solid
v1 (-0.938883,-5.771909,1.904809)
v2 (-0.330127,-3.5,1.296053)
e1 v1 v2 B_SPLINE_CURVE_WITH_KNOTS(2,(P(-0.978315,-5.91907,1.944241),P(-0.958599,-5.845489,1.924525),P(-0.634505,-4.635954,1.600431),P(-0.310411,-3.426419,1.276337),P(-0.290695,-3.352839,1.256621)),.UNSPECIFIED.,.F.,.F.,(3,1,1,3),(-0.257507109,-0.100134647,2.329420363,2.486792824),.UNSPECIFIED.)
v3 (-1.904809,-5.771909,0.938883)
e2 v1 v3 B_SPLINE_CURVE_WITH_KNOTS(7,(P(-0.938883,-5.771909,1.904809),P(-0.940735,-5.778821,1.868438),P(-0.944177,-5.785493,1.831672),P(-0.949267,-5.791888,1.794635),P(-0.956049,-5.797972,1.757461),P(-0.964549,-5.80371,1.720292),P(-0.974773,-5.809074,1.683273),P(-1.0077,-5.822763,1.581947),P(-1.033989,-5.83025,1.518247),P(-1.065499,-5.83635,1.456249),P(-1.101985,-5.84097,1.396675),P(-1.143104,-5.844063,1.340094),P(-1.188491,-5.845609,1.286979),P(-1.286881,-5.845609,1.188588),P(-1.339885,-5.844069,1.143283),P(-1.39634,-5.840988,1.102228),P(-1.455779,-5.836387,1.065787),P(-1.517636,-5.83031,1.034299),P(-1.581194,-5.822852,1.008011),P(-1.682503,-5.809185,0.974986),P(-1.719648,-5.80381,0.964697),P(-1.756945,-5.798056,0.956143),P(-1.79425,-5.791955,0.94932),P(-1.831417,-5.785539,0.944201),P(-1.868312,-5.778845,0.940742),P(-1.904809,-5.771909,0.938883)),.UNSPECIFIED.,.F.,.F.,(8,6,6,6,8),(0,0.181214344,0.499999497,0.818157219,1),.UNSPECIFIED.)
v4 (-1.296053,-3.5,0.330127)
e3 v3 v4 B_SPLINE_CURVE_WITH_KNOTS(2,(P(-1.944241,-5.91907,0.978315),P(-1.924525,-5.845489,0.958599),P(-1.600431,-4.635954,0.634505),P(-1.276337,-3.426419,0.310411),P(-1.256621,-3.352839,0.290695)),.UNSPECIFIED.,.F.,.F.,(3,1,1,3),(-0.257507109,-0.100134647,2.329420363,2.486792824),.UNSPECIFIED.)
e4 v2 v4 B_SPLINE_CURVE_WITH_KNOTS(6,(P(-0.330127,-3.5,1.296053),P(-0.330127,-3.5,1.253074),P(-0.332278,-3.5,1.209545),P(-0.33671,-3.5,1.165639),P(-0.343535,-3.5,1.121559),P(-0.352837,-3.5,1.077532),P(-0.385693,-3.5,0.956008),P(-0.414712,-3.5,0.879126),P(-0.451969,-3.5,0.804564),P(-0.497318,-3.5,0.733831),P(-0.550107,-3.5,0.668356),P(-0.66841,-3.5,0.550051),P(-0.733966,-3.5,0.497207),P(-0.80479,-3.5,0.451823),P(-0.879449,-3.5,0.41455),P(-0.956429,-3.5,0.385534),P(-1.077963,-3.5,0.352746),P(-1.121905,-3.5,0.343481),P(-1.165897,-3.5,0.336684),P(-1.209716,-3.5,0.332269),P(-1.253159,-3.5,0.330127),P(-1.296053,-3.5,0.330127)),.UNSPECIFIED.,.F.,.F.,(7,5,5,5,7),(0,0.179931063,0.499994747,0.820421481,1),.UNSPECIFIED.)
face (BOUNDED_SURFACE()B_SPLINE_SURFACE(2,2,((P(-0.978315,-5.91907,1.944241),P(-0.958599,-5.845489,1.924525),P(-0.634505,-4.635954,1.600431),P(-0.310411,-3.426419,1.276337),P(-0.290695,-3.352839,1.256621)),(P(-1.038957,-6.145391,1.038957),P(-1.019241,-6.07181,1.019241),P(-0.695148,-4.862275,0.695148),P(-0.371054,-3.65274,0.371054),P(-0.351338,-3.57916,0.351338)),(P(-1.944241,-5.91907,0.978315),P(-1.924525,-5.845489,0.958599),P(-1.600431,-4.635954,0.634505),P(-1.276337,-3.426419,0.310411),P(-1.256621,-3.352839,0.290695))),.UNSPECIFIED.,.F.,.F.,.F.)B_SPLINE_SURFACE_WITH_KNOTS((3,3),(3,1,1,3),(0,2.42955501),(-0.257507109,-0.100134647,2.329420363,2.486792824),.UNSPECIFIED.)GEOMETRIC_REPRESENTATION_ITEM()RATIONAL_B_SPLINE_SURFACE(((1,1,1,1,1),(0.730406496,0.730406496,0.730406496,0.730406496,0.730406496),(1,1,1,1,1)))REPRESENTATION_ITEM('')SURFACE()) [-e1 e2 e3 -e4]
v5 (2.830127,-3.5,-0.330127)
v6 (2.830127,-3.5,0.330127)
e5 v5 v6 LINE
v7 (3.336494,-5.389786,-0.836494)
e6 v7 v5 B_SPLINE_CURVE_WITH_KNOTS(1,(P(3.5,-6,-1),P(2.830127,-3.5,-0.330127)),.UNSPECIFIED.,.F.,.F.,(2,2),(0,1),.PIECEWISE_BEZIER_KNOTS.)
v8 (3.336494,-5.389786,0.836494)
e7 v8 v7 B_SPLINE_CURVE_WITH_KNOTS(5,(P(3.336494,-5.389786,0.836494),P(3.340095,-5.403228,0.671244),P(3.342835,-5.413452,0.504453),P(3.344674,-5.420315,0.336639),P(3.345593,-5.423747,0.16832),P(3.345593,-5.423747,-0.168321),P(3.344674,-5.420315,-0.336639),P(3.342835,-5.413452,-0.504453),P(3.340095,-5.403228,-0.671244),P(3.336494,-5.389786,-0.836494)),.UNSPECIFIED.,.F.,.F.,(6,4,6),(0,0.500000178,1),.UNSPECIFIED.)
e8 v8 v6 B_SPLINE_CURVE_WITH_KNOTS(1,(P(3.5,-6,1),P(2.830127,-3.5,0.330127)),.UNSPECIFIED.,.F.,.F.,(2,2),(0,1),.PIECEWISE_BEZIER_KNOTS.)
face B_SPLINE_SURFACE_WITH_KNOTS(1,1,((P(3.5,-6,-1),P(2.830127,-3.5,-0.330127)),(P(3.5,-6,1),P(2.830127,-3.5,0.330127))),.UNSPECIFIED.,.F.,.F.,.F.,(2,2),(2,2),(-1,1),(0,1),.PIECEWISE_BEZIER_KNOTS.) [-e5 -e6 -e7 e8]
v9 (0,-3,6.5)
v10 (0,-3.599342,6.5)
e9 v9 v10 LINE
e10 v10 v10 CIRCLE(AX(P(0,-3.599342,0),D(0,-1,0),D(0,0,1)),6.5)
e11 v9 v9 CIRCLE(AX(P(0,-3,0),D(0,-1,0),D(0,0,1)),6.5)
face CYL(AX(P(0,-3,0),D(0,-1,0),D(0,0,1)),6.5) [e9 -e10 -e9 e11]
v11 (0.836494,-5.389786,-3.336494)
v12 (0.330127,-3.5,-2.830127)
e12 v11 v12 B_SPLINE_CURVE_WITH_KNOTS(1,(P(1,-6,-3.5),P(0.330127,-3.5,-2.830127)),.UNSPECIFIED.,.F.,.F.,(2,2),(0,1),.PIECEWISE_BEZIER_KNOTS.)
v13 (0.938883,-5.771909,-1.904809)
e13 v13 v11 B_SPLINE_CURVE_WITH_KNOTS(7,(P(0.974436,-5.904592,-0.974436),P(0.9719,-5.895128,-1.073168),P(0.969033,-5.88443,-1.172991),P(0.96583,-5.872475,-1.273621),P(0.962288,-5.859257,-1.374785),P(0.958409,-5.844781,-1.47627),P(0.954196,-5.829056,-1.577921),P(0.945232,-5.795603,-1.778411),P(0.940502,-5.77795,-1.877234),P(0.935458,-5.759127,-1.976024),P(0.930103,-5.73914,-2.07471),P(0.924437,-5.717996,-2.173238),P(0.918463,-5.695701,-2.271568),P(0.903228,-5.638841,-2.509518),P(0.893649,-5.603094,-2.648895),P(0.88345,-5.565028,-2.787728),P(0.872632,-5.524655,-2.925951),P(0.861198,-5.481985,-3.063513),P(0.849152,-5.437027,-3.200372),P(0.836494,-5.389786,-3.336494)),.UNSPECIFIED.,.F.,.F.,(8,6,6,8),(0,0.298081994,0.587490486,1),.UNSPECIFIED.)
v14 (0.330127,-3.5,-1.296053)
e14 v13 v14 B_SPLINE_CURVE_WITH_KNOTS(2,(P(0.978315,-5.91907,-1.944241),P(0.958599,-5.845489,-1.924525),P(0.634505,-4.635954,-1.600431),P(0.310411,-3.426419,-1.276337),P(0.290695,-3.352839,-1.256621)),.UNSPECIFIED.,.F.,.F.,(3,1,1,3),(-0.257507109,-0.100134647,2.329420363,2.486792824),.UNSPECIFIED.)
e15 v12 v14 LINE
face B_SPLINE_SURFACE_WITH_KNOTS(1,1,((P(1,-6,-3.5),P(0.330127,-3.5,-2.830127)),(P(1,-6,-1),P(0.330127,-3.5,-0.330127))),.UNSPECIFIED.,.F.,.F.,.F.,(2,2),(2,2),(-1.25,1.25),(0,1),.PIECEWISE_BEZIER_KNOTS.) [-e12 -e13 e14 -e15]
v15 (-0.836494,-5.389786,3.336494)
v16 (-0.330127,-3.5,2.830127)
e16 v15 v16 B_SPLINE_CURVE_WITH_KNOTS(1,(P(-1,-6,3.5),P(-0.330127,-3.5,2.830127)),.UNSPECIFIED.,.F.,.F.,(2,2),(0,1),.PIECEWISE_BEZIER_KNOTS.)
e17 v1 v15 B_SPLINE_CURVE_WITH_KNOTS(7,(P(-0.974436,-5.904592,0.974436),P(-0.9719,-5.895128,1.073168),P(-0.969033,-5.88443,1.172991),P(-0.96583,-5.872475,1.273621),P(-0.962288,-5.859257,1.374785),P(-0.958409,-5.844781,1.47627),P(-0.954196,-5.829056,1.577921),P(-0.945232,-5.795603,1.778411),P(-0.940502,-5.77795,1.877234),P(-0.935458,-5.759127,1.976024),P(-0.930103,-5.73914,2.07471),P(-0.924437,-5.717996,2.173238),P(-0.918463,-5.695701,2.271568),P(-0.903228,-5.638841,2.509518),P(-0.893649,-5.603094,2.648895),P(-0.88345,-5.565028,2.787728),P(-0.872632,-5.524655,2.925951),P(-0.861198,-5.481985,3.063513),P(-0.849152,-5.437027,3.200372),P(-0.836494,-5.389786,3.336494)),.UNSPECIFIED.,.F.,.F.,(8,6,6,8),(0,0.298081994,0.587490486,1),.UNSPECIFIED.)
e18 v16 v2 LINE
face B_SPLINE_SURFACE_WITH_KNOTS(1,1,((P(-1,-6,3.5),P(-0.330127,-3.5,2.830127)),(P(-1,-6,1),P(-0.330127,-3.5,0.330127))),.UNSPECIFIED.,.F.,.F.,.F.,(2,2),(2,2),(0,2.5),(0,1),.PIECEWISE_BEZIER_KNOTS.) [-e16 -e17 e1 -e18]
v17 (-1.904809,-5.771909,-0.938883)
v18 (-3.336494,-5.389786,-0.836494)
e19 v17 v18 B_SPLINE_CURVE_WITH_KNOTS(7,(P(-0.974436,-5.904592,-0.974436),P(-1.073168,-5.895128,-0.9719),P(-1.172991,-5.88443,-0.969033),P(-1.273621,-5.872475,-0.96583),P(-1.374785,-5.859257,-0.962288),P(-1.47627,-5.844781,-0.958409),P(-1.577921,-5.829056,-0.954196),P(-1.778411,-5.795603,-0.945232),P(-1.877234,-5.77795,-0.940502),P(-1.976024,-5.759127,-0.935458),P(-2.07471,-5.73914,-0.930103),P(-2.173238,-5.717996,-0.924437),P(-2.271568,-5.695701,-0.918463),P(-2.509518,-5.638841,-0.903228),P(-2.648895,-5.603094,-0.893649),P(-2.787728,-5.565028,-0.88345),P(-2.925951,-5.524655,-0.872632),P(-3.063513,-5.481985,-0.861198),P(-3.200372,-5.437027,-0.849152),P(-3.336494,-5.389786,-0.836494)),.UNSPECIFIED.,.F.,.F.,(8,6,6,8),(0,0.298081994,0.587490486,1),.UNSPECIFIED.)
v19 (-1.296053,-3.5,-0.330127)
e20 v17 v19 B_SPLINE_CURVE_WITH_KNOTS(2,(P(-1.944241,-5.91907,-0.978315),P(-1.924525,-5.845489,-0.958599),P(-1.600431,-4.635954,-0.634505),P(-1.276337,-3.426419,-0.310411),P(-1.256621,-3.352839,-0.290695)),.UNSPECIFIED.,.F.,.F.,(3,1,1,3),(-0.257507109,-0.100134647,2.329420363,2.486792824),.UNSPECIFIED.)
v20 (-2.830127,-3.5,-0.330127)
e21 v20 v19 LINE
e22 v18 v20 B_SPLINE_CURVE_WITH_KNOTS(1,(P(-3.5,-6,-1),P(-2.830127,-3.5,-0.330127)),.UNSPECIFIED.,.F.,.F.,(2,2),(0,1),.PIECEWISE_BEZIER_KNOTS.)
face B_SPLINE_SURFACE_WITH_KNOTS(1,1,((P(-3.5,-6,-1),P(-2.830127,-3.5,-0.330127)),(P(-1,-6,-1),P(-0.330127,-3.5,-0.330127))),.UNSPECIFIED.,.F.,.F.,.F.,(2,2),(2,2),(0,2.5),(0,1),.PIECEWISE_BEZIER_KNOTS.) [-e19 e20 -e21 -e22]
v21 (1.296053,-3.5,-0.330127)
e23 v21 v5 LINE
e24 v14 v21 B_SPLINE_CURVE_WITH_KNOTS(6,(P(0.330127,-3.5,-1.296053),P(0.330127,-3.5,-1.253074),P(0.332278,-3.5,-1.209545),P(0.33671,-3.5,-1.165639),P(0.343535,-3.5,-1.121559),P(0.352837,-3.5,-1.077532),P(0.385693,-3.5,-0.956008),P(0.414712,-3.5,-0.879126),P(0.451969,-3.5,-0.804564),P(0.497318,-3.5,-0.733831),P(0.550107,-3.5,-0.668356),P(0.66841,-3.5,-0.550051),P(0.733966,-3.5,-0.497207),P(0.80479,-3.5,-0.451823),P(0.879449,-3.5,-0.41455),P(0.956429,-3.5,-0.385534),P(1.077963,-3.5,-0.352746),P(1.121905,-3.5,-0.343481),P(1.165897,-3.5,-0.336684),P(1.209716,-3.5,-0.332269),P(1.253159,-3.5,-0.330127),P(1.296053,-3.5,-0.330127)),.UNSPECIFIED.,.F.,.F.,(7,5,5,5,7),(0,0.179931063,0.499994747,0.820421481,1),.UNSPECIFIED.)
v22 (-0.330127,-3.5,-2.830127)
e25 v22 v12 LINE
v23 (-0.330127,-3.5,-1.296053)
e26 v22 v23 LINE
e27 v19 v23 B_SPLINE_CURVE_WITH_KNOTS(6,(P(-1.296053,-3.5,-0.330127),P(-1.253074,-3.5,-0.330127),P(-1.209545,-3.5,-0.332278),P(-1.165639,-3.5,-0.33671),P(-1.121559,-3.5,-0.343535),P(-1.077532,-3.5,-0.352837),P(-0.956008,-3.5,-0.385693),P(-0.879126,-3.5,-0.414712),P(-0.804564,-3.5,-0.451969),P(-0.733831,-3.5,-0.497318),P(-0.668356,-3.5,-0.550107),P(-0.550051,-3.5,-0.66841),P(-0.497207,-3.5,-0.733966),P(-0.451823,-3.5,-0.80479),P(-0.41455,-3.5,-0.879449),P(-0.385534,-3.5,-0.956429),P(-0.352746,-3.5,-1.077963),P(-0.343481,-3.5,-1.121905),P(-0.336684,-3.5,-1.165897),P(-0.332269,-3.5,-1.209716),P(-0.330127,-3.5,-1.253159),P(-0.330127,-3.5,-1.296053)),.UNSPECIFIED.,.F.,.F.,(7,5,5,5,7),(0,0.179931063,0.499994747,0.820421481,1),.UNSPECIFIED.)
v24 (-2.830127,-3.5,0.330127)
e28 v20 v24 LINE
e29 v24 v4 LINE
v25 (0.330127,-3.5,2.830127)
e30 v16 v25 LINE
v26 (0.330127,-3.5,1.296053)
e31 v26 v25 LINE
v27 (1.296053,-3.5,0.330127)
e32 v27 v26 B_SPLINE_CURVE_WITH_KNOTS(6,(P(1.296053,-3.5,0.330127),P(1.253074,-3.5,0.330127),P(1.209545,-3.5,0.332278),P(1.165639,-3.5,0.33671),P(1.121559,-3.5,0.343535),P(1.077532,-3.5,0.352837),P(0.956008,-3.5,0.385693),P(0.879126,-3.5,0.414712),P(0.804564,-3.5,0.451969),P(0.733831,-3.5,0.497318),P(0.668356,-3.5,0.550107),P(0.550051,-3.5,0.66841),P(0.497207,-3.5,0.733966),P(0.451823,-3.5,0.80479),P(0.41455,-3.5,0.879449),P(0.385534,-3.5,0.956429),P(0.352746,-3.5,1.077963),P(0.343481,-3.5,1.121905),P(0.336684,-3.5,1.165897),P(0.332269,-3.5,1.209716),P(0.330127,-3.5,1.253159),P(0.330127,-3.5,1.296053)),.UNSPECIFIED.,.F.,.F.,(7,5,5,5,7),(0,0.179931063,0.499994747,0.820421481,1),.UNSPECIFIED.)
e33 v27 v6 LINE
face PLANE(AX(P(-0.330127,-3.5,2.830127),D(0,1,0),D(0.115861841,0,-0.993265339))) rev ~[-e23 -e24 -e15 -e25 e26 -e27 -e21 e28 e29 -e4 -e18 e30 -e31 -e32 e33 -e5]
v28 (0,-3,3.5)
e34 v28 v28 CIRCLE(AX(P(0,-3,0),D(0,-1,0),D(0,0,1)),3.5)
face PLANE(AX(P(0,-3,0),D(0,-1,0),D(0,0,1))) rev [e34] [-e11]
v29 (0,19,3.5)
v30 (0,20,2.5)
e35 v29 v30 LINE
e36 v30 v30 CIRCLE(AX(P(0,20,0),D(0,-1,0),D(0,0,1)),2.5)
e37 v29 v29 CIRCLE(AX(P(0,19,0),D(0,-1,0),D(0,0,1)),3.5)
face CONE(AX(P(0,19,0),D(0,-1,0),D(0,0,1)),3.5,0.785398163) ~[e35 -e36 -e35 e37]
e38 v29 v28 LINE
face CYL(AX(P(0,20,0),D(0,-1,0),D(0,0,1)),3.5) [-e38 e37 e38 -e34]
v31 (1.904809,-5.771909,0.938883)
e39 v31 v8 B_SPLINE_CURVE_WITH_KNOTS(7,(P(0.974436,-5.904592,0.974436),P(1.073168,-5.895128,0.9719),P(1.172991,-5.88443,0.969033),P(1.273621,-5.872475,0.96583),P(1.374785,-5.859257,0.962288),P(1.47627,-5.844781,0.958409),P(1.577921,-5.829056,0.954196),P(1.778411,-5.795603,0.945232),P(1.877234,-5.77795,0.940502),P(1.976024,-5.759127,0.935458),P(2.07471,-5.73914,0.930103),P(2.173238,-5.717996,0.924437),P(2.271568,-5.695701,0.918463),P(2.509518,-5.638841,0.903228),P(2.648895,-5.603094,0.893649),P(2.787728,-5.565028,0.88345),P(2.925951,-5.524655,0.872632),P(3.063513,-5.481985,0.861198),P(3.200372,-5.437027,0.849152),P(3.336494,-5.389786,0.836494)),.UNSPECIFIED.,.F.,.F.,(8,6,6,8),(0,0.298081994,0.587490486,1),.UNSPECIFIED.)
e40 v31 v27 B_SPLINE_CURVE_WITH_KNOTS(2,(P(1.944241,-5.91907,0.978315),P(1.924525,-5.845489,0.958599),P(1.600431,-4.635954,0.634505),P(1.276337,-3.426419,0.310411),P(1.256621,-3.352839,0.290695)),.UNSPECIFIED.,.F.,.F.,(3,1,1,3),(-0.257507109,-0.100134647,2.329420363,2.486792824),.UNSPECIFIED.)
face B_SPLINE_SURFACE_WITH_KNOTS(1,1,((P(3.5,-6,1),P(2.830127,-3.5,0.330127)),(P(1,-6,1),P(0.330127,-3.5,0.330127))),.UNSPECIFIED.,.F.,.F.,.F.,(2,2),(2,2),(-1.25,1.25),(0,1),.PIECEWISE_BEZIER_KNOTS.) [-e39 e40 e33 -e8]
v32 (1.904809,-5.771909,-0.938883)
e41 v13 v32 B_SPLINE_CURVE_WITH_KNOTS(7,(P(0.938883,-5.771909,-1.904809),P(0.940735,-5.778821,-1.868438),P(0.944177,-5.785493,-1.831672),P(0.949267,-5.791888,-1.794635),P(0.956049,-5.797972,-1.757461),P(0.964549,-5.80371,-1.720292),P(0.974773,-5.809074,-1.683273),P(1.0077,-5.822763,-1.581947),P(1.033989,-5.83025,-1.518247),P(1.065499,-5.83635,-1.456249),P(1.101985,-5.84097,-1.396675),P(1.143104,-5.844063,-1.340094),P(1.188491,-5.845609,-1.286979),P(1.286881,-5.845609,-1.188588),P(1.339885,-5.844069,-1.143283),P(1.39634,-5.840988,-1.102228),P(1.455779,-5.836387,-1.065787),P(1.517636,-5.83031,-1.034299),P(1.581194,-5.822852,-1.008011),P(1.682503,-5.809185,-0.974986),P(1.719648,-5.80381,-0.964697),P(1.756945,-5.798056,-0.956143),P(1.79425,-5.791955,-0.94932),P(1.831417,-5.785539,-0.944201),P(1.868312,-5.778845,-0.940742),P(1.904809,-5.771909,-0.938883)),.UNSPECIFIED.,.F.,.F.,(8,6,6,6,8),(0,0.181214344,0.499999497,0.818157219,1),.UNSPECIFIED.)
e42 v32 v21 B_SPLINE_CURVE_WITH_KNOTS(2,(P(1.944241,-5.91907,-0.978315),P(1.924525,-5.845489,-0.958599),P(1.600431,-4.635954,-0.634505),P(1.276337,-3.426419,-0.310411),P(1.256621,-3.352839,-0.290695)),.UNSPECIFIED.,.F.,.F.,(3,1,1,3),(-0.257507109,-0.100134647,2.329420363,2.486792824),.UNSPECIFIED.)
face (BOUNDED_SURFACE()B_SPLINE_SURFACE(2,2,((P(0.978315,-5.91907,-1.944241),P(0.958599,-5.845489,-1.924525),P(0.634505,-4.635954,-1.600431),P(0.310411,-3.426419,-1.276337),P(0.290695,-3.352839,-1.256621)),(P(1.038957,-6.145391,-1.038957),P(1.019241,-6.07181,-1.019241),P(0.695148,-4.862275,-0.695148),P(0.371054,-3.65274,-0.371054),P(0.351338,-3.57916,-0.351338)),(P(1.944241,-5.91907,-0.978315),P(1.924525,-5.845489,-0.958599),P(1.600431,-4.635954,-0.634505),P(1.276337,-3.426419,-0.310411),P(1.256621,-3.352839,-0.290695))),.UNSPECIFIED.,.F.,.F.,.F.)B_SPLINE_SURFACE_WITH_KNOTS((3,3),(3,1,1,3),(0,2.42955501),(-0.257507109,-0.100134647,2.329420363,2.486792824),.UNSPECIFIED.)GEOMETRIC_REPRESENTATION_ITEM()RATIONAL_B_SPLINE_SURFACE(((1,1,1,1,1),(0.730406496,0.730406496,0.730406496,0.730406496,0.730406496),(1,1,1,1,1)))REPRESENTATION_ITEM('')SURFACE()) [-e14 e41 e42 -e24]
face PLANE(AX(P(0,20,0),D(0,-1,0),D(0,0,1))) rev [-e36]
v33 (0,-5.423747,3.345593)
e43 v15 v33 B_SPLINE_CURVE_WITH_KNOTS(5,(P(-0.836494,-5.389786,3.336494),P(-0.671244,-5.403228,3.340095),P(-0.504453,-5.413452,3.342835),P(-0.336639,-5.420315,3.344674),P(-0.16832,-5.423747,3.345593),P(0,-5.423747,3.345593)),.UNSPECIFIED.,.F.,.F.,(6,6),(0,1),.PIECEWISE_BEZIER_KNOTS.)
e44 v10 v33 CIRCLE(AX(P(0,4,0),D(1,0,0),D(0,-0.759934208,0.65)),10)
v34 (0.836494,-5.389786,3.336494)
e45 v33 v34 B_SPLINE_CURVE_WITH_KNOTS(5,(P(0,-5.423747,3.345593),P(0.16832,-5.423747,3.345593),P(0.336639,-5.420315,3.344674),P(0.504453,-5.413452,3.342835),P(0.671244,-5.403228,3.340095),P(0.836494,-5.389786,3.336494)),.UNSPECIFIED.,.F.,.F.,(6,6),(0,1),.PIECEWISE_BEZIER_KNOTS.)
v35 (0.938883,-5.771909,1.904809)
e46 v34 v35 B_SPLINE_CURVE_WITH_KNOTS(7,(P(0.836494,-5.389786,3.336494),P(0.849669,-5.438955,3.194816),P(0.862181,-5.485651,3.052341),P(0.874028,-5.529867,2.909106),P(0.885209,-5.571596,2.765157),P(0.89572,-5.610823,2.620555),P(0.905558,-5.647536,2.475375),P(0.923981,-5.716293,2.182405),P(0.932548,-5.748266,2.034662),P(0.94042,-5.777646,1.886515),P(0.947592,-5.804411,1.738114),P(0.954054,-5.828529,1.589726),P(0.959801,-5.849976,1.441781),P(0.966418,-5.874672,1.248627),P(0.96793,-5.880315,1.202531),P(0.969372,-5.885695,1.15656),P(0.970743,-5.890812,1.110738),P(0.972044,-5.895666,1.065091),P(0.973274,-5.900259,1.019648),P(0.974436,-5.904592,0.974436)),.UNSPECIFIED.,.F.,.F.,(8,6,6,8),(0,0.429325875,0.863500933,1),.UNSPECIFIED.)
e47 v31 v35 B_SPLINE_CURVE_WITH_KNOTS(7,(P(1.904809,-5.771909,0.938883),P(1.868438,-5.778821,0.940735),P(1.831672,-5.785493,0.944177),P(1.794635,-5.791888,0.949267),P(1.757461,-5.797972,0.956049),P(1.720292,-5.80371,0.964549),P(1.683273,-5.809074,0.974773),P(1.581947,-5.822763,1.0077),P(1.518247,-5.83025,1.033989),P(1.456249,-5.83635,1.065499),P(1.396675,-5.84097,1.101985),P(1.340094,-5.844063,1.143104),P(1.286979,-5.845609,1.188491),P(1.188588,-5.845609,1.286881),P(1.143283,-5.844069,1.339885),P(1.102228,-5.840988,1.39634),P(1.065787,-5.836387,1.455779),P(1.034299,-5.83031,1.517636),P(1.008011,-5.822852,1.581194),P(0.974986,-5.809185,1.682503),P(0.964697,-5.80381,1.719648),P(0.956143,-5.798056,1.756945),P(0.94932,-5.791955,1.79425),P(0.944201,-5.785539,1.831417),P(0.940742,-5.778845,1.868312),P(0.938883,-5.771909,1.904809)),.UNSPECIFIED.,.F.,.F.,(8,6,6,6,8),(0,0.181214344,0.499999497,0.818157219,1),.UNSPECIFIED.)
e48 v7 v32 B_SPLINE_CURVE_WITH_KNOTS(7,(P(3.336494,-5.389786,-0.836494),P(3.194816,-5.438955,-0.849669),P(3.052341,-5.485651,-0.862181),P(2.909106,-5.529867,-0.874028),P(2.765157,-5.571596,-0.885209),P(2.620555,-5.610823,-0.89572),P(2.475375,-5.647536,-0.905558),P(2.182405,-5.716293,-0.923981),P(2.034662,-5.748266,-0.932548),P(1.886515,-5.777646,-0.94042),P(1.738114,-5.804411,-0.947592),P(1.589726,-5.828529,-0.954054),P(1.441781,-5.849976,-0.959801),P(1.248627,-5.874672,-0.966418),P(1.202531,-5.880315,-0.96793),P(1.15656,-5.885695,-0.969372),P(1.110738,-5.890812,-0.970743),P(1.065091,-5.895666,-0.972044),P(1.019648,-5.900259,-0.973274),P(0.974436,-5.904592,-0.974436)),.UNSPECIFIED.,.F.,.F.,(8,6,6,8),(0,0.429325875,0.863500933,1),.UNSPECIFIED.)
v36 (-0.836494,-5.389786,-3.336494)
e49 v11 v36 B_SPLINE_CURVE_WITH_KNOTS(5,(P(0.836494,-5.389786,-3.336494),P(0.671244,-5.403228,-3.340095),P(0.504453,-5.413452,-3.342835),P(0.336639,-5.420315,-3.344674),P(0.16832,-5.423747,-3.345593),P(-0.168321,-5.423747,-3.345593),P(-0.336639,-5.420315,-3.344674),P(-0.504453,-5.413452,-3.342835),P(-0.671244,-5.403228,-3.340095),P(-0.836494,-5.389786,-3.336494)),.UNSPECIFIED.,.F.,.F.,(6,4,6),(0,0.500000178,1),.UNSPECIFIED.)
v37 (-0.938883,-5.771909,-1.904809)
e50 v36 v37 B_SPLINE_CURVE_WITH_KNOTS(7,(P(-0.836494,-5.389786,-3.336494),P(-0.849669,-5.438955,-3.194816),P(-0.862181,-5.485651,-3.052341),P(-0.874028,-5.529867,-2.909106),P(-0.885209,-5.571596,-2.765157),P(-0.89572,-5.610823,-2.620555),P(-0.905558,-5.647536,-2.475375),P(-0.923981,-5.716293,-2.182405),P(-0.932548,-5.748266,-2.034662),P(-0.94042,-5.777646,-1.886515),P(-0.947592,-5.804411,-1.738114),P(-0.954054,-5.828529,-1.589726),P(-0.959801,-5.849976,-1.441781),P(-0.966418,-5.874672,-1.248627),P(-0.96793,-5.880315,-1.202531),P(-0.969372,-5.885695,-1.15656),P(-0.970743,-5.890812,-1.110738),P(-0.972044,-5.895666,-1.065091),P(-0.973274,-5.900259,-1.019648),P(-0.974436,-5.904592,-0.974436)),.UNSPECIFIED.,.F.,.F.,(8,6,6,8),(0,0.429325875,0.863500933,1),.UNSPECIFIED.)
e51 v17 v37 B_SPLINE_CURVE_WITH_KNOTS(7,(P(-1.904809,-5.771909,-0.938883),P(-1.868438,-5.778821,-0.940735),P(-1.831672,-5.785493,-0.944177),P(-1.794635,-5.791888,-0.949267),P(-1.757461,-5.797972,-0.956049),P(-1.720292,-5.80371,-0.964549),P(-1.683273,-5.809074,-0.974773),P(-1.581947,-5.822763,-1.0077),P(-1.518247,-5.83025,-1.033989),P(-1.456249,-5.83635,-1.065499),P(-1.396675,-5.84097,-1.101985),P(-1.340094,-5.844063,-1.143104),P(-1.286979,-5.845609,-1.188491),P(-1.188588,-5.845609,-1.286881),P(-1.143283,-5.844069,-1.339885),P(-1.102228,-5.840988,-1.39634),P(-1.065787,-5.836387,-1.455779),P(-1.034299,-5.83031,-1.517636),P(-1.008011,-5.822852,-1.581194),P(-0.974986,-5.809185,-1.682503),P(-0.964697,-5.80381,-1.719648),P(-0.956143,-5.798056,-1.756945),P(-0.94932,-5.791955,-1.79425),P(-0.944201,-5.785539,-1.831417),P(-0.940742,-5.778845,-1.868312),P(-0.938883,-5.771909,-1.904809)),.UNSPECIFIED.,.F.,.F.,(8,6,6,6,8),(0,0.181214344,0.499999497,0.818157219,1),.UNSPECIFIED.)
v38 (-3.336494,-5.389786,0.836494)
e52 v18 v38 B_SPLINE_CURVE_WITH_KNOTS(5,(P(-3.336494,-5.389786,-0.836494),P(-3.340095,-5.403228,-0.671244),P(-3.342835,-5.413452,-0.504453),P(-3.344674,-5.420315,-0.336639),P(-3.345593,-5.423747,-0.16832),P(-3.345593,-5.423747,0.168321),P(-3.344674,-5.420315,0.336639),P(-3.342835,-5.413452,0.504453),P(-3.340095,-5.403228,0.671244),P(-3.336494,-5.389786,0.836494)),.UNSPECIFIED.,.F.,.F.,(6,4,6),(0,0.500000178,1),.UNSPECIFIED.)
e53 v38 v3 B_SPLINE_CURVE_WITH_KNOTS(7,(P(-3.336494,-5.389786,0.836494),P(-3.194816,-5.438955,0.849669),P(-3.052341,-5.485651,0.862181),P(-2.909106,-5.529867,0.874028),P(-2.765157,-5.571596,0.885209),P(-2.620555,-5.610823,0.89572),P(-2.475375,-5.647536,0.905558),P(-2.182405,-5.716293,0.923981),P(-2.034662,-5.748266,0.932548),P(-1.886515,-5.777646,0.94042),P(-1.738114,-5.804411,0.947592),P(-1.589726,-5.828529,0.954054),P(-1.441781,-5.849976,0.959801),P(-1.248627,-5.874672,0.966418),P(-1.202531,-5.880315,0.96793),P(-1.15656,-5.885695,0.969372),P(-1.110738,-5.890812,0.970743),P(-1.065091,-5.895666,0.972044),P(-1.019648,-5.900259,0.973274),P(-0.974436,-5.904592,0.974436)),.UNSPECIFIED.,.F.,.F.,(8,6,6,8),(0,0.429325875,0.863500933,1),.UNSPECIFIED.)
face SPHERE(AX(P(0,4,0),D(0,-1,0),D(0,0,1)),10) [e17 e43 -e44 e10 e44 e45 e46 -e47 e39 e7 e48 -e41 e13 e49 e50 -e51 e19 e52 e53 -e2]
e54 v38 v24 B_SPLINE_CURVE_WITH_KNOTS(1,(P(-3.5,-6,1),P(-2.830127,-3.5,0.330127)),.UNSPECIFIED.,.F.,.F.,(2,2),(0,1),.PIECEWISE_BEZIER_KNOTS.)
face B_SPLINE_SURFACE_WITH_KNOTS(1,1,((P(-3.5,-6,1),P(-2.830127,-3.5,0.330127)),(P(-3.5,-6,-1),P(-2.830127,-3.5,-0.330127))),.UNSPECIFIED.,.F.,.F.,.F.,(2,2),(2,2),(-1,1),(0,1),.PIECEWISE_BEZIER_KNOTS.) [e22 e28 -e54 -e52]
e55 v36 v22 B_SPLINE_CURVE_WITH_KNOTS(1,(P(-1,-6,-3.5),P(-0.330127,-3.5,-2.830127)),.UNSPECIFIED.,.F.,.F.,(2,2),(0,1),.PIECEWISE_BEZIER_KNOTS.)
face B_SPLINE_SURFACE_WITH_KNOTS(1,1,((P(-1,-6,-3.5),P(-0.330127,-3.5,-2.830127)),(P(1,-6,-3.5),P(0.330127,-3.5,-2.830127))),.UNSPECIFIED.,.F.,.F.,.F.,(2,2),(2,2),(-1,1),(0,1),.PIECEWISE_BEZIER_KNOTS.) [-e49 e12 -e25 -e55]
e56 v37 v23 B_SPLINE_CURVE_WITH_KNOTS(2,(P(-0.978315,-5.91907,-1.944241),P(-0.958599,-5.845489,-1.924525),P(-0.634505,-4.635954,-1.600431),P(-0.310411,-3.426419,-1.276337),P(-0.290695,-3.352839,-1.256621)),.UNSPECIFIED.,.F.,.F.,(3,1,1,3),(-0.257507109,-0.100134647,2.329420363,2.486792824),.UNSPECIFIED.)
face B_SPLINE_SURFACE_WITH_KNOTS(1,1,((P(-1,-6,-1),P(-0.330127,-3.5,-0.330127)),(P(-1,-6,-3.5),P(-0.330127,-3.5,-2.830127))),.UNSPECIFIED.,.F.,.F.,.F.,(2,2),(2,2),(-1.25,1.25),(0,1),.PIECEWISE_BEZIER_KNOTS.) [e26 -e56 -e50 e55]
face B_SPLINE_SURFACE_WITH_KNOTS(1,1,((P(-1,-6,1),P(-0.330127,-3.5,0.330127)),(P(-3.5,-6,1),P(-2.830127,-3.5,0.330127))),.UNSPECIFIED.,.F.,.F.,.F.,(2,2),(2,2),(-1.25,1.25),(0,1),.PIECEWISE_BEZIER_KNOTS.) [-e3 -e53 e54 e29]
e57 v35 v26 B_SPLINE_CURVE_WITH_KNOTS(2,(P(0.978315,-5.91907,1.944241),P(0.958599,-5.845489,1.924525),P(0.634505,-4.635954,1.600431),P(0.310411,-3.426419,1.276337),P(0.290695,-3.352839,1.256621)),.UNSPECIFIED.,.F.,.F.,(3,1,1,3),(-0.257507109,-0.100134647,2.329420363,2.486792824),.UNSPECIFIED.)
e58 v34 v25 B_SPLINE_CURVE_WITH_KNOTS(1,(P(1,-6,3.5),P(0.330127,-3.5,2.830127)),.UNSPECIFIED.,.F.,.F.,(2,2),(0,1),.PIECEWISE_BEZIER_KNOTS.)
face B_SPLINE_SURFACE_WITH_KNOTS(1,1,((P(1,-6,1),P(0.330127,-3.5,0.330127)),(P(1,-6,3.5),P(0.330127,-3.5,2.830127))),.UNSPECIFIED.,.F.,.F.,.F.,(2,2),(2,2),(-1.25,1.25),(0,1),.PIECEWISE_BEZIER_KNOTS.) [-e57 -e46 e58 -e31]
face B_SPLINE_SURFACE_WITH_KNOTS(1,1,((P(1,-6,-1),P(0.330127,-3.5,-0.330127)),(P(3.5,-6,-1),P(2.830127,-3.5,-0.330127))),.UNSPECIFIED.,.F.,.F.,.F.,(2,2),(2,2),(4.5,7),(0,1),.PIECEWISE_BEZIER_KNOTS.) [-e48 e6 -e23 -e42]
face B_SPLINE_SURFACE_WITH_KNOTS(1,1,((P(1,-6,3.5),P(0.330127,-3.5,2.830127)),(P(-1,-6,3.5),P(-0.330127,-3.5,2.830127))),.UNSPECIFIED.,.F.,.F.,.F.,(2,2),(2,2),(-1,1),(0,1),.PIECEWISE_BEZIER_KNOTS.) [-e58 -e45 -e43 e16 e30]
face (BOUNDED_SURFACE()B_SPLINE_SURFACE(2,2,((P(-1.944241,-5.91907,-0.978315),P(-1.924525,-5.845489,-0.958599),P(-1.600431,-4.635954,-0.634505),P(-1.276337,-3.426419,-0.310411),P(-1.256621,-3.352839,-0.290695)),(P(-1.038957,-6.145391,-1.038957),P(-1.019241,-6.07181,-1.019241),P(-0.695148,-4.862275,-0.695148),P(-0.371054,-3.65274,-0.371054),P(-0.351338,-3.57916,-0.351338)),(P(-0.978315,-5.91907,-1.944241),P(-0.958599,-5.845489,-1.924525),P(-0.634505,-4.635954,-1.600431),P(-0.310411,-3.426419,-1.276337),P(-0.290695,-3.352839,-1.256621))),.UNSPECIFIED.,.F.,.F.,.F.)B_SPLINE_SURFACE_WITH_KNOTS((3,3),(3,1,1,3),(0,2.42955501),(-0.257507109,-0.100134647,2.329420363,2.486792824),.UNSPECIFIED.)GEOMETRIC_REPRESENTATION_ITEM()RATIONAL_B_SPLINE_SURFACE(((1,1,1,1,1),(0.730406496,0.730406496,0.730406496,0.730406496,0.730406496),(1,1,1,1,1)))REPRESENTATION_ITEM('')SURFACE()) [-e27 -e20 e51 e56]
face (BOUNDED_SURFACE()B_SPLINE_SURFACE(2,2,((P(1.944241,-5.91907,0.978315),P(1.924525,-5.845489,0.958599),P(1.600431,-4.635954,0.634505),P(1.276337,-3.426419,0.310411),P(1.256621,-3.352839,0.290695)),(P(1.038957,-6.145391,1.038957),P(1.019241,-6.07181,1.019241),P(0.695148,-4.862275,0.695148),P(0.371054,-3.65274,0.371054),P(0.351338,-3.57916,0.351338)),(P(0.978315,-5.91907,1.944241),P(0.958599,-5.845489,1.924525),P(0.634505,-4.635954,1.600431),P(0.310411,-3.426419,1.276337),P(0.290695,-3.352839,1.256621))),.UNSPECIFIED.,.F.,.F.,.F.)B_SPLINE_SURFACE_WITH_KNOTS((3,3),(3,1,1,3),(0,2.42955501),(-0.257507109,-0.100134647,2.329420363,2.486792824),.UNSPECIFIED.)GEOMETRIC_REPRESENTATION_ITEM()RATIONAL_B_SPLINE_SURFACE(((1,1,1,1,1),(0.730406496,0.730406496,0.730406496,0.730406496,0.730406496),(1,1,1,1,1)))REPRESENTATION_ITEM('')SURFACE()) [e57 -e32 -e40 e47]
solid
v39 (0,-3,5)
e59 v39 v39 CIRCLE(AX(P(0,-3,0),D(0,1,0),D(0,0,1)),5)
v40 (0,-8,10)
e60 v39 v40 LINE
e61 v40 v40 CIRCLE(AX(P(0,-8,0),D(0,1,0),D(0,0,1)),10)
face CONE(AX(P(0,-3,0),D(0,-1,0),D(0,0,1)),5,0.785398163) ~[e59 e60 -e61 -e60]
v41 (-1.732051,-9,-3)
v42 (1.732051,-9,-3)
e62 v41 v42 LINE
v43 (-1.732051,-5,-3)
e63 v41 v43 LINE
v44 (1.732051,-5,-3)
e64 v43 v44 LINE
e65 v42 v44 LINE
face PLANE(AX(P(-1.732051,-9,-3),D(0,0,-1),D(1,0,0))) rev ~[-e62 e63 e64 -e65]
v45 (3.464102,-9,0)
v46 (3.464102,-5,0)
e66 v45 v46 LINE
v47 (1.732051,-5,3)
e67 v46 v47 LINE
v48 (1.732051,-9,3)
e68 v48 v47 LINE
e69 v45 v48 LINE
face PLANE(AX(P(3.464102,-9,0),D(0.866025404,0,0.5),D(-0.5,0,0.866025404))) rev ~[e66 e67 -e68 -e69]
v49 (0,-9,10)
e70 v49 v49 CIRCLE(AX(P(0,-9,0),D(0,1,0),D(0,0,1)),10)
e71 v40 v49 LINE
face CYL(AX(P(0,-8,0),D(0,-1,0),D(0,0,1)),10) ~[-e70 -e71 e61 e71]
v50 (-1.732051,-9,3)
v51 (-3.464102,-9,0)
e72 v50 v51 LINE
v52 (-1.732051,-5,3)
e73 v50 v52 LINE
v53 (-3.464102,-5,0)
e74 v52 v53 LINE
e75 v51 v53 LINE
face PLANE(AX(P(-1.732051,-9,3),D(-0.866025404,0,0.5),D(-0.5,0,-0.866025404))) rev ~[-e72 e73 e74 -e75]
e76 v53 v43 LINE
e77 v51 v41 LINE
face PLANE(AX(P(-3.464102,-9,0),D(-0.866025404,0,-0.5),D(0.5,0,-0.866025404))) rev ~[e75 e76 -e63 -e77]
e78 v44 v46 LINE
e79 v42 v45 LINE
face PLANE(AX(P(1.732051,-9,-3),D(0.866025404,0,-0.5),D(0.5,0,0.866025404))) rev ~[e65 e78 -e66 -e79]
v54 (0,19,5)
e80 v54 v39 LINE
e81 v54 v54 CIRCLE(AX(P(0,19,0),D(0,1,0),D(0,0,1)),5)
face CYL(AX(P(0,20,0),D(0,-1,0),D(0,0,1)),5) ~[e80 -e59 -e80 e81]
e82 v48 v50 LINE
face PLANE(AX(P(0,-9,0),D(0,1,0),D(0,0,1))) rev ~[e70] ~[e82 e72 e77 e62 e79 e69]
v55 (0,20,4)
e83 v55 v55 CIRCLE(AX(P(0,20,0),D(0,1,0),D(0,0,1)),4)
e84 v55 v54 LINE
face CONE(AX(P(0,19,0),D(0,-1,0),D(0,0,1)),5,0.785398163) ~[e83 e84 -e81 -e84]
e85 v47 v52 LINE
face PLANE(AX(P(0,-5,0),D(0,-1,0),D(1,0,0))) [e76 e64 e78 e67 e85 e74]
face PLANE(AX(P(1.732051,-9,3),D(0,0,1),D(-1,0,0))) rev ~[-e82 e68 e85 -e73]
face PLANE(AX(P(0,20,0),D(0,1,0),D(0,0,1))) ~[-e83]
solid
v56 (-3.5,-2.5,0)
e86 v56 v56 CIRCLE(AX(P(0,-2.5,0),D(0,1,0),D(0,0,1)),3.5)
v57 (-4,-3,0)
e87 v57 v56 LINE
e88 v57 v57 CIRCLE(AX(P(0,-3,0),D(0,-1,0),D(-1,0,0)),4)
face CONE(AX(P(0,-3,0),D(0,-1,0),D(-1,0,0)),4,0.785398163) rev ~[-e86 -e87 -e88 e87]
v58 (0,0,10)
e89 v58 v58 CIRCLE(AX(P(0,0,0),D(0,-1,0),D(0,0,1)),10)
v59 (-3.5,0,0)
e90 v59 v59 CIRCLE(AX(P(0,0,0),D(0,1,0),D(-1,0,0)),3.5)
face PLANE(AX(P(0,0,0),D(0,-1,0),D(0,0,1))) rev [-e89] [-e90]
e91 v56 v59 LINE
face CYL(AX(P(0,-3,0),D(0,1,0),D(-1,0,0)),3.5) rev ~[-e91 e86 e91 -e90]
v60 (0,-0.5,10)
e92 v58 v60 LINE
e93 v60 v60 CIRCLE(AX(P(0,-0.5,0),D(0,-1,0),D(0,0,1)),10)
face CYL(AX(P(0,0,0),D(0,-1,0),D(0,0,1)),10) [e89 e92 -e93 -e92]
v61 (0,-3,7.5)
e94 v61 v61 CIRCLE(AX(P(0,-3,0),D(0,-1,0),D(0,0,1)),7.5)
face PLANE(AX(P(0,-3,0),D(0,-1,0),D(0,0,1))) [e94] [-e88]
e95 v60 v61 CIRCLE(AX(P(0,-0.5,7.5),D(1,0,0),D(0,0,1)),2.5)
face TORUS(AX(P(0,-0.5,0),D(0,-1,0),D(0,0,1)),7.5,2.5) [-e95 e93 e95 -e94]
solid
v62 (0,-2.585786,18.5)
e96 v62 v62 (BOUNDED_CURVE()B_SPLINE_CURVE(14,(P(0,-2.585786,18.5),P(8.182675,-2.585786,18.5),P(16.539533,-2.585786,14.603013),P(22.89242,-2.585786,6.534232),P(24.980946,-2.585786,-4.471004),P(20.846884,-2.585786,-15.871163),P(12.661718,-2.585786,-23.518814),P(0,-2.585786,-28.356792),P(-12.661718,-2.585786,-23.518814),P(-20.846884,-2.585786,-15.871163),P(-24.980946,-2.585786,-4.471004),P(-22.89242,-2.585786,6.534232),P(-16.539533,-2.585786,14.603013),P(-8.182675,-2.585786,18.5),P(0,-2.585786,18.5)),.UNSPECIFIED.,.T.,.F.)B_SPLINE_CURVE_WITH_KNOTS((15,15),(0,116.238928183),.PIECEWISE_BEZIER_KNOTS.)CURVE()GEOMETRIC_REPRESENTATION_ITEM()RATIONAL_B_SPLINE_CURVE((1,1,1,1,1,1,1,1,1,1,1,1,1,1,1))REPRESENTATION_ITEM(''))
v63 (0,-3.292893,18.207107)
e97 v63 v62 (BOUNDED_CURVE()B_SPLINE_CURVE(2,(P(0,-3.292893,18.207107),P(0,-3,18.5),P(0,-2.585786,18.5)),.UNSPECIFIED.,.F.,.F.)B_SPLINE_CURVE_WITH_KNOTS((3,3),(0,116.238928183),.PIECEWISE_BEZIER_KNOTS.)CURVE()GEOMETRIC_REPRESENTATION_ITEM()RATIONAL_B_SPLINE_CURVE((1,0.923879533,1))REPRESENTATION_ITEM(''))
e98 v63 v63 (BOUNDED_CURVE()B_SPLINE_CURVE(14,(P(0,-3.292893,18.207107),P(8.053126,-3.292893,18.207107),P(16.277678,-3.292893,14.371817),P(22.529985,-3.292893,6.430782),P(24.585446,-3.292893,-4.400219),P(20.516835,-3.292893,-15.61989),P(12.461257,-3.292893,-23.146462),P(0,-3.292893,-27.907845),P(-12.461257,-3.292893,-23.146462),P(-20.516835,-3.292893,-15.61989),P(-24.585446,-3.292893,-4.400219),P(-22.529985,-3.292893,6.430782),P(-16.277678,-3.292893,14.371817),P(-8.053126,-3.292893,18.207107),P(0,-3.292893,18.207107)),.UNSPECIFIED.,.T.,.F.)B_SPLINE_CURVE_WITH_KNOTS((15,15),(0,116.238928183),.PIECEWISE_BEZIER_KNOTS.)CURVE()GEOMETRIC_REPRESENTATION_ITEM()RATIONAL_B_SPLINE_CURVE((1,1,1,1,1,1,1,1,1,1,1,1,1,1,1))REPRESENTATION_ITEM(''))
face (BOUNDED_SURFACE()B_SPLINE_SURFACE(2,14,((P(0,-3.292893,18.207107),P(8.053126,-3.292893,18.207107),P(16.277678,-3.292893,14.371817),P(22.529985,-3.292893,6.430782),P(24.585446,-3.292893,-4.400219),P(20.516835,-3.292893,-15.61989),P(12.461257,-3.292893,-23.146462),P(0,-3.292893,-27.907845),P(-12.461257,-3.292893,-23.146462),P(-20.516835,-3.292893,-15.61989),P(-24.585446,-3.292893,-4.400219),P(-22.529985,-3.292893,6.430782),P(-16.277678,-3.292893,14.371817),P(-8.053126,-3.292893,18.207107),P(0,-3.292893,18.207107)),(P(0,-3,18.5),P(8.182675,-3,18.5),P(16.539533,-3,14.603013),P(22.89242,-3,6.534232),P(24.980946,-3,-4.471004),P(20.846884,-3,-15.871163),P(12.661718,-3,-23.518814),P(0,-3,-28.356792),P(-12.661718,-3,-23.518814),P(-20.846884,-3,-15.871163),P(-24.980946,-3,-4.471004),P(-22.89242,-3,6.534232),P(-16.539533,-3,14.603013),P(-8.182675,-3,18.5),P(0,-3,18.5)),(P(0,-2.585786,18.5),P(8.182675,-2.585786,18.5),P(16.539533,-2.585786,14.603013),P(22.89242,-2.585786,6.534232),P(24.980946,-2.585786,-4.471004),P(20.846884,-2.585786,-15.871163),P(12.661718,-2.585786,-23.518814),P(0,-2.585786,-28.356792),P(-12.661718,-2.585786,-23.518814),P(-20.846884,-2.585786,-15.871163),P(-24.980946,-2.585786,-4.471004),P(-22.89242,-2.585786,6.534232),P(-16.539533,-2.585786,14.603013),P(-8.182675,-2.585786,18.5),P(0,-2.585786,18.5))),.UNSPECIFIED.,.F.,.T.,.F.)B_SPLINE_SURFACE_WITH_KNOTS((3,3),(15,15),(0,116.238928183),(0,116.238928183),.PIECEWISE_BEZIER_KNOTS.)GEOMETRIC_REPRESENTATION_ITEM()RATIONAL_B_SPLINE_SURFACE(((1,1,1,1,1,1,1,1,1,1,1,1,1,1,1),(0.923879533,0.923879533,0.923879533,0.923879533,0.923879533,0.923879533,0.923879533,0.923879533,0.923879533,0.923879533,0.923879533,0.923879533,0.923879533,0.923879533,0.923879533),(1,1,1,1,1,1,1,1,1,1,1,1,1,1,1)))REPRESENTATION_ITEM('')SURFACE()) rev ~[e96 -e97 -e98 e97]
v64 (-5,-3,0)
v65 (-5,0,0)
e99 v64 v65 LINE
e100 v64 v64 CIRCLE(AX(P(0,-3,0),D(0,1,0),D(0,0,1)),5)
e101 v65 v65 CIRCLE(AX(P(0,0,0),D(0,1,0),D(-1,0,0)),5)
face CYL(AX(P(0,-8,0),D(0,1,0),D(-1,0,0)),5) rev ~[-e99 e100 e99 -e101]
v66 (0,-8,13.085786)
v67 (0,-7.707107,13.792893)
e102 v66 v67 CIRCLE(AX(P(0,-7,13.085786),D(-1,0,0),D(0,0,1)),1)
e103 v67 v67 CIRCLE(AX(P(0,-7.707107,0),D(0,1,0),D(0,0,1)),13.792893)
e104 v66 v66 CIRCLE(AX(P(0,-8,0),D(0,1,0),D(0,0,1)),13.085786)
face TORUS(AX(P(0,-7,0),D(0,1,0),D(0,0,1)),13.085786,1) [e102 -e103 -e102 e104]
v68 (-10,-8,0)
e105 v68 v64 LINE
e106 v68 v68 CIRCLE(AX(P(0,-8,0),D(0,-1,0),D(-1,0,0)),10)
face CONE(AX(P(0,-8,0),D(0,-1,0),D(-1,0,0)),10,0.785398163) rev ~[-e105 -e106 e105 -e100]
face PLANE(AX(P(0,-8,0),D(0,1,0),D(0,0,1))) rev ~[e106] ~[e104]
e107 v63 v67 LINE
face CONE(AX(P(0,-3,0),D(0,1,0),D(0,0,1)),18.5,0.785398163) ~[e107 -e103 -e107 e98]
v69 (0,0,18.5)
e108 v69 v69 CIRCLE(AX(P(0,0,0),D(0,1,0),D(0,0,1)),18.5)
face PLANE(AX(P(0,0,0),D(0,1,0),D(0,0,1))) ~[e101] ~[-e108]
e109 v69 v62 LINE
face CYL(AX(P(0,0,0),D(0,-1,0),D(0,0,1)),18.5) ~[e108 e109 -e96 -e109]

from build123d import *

# Parameters (mm, degrees)
F5_D           = 7
F5_CSINK_D     = 8
F5_CSINK_ANGLE = 90
F9_D           = 10
F9_CSINK_D     = 20
F9_CSINK_ANGLE = 90
F10_R          = 1
F15_W          = 2
F15_H          = 2.5
F15_W_2        = 2.5
F15_H_2        = 2
F16_DEPTH      = 2.5
F16_TAPER      = 15
F17_R          = 1
F21_DEPTH      = 4
F22_SIZE       = 1
F22_2_SIZE     = 1


with BuildPart() as f3:
    # F2 (on Right) → F3 (revolve)
    with BuildSketch(Plane.YZ):
        with BuildLine():
            Line((-3, 0), (0, 0))
            Line((0, 0), (0, 10))
            Line((0, 10), (-0.5, 10))
            ThreePointArc((-0.5, 10), (-2.267766953, 9.267766953), (-3, 7.5))
            Line((-3, 7.5), (-3, 0))
        make_face()
    revolve(axis=Axis((0, -1.5, 0), (0, -1, 0)))

    # F5 (through all)
    with Locations(Plane.XZ.offset(3)):
        with Locations((0, 0)):
            CounterSinkHole(F5_D / 2, F5_CSINK_D / 2, counter_sink_angle=F5_CSINK_ANGLE)


with BuildPart() as f7:
    # F6 (on Right) → F7 (revolve)
    with BuildSketch(Plane.YZ):
        Polygon((-8, 0), (0, 0), (0, 18.5), (-3, 18.5), (-8, 13.5), align=None)
    revolve(axis=Axis((0, -4, 0), (0, 1, 0)))

    # F9 (through all)
    with Locations(Plane.XZ.offset(8)):
        with Locations((0, 0)):
            CounterSinkHole(F9_D / 2, F9_CSINK_D / 2, counter_sink_angle=F9_CSINK_ANGLE)

    # F10
    f10_edges = [f7.edges().sort_by_distance(p)[0] for p in [
        (0, -3, -18.5),
        (0, -8, -13.5),
        (0, -5.5, 16),
    ]]
    fillet(f10_edges, radius=F10_R)


with BuildPart() as f13:
    # F12 (on Right) → F13 (revolve)
    with BuildSketch(Plane.YZ):
        with BuildLine():
            Line((20, 0), (20, 3.5))
            Line((20, 3.5), (-3, 3.5))
            Line((-3, 3.5), (-3, 6.5))
            Line((-3, 6.5), (-3.5993420768, 6.5))
            ThreePointArc((-3.5993420768, 6.5), (-5.3806561809, 3.4645763978), (-6, 0))
            Line((-6, 0), (20, 0))
        make_face()
    revolve(axis=Axis((0, 7, 0), (0, -1, 0)))

    # F15 (on plane+point) → F16 (cut)
    with BuildSketch(Plane.XZ.offset(6)):
        with Locations((0, 2.25)):
            Rectangle(F15_W, F15_H)
        with Locations((2.25, 0)):
            Rectangle(F15_W_2, F15_H_2)
        Rectangle(F15_W, F15_H_2)
        with Locations((-2.25, 0)):
            Rectangle(F15_W_2, F15_H_2)
        with Locations((0, -2.25)):
            Rectangle(F15_W, F15_H)
    extrude(amount=-F16_DEPTH, taper=F16_TAPER, mode=Mode.SUBTRACT)

    # F17
    f17_edges = [f13.edges().sort_by_distance(p)[0] for p in [
        (-0.652281, -4.702296, 0.652281),
        (0.652281, -4.702296, 0.652281),
        (0.652281, -4.702296, -0.652281),
        (-0.652281, -4.702296, -0.652281),
    ]]
    fillet(f17_edges, radius=F17_R)

    # F22
    f22_edges = [f13.edges().sort_by_distance(p)[0] for p in [
        (0, 20, -3.5),
    ]]
    chamfer(f22_edges, length=F22_SIZE)


with BuildPart() as f19:
    # F18 (on Right) → F19 (revolve)
    with BuildSketch(Plane.YZ):
        Polygon((20, 0), (20, 5), (-3, 5), (-8, 10), (-9, 10), (-9, 0), align=None)
    revolve(axis=Axis((0, 5.5, 0), (0, 1, 0)))

    # F20 (on face) → F21 (cut)
    with BuildSketch(Plane.XZ.offset(9)):
        Polygon((1.7320508076, 3), (-1.7320508076, 3), (-3.4641016151, 0), (-1.7320508076, -3), (1.7320508076, -3), (3.4641016151, 0), align=None)
    extrude(amount=-F21_DEPTH, mode=Mode.SUBTRACT)

    # F22#2
    f22_2_edges = [f19.edges().sort_by_distance(p)[0] for p in [
        (0, 20, -5),
    ]]
    chamfer(f22_2_edges, length=F22_2_SIZE)


solid = Compound([f3.part, f7.part, f13.part, f19.part])
